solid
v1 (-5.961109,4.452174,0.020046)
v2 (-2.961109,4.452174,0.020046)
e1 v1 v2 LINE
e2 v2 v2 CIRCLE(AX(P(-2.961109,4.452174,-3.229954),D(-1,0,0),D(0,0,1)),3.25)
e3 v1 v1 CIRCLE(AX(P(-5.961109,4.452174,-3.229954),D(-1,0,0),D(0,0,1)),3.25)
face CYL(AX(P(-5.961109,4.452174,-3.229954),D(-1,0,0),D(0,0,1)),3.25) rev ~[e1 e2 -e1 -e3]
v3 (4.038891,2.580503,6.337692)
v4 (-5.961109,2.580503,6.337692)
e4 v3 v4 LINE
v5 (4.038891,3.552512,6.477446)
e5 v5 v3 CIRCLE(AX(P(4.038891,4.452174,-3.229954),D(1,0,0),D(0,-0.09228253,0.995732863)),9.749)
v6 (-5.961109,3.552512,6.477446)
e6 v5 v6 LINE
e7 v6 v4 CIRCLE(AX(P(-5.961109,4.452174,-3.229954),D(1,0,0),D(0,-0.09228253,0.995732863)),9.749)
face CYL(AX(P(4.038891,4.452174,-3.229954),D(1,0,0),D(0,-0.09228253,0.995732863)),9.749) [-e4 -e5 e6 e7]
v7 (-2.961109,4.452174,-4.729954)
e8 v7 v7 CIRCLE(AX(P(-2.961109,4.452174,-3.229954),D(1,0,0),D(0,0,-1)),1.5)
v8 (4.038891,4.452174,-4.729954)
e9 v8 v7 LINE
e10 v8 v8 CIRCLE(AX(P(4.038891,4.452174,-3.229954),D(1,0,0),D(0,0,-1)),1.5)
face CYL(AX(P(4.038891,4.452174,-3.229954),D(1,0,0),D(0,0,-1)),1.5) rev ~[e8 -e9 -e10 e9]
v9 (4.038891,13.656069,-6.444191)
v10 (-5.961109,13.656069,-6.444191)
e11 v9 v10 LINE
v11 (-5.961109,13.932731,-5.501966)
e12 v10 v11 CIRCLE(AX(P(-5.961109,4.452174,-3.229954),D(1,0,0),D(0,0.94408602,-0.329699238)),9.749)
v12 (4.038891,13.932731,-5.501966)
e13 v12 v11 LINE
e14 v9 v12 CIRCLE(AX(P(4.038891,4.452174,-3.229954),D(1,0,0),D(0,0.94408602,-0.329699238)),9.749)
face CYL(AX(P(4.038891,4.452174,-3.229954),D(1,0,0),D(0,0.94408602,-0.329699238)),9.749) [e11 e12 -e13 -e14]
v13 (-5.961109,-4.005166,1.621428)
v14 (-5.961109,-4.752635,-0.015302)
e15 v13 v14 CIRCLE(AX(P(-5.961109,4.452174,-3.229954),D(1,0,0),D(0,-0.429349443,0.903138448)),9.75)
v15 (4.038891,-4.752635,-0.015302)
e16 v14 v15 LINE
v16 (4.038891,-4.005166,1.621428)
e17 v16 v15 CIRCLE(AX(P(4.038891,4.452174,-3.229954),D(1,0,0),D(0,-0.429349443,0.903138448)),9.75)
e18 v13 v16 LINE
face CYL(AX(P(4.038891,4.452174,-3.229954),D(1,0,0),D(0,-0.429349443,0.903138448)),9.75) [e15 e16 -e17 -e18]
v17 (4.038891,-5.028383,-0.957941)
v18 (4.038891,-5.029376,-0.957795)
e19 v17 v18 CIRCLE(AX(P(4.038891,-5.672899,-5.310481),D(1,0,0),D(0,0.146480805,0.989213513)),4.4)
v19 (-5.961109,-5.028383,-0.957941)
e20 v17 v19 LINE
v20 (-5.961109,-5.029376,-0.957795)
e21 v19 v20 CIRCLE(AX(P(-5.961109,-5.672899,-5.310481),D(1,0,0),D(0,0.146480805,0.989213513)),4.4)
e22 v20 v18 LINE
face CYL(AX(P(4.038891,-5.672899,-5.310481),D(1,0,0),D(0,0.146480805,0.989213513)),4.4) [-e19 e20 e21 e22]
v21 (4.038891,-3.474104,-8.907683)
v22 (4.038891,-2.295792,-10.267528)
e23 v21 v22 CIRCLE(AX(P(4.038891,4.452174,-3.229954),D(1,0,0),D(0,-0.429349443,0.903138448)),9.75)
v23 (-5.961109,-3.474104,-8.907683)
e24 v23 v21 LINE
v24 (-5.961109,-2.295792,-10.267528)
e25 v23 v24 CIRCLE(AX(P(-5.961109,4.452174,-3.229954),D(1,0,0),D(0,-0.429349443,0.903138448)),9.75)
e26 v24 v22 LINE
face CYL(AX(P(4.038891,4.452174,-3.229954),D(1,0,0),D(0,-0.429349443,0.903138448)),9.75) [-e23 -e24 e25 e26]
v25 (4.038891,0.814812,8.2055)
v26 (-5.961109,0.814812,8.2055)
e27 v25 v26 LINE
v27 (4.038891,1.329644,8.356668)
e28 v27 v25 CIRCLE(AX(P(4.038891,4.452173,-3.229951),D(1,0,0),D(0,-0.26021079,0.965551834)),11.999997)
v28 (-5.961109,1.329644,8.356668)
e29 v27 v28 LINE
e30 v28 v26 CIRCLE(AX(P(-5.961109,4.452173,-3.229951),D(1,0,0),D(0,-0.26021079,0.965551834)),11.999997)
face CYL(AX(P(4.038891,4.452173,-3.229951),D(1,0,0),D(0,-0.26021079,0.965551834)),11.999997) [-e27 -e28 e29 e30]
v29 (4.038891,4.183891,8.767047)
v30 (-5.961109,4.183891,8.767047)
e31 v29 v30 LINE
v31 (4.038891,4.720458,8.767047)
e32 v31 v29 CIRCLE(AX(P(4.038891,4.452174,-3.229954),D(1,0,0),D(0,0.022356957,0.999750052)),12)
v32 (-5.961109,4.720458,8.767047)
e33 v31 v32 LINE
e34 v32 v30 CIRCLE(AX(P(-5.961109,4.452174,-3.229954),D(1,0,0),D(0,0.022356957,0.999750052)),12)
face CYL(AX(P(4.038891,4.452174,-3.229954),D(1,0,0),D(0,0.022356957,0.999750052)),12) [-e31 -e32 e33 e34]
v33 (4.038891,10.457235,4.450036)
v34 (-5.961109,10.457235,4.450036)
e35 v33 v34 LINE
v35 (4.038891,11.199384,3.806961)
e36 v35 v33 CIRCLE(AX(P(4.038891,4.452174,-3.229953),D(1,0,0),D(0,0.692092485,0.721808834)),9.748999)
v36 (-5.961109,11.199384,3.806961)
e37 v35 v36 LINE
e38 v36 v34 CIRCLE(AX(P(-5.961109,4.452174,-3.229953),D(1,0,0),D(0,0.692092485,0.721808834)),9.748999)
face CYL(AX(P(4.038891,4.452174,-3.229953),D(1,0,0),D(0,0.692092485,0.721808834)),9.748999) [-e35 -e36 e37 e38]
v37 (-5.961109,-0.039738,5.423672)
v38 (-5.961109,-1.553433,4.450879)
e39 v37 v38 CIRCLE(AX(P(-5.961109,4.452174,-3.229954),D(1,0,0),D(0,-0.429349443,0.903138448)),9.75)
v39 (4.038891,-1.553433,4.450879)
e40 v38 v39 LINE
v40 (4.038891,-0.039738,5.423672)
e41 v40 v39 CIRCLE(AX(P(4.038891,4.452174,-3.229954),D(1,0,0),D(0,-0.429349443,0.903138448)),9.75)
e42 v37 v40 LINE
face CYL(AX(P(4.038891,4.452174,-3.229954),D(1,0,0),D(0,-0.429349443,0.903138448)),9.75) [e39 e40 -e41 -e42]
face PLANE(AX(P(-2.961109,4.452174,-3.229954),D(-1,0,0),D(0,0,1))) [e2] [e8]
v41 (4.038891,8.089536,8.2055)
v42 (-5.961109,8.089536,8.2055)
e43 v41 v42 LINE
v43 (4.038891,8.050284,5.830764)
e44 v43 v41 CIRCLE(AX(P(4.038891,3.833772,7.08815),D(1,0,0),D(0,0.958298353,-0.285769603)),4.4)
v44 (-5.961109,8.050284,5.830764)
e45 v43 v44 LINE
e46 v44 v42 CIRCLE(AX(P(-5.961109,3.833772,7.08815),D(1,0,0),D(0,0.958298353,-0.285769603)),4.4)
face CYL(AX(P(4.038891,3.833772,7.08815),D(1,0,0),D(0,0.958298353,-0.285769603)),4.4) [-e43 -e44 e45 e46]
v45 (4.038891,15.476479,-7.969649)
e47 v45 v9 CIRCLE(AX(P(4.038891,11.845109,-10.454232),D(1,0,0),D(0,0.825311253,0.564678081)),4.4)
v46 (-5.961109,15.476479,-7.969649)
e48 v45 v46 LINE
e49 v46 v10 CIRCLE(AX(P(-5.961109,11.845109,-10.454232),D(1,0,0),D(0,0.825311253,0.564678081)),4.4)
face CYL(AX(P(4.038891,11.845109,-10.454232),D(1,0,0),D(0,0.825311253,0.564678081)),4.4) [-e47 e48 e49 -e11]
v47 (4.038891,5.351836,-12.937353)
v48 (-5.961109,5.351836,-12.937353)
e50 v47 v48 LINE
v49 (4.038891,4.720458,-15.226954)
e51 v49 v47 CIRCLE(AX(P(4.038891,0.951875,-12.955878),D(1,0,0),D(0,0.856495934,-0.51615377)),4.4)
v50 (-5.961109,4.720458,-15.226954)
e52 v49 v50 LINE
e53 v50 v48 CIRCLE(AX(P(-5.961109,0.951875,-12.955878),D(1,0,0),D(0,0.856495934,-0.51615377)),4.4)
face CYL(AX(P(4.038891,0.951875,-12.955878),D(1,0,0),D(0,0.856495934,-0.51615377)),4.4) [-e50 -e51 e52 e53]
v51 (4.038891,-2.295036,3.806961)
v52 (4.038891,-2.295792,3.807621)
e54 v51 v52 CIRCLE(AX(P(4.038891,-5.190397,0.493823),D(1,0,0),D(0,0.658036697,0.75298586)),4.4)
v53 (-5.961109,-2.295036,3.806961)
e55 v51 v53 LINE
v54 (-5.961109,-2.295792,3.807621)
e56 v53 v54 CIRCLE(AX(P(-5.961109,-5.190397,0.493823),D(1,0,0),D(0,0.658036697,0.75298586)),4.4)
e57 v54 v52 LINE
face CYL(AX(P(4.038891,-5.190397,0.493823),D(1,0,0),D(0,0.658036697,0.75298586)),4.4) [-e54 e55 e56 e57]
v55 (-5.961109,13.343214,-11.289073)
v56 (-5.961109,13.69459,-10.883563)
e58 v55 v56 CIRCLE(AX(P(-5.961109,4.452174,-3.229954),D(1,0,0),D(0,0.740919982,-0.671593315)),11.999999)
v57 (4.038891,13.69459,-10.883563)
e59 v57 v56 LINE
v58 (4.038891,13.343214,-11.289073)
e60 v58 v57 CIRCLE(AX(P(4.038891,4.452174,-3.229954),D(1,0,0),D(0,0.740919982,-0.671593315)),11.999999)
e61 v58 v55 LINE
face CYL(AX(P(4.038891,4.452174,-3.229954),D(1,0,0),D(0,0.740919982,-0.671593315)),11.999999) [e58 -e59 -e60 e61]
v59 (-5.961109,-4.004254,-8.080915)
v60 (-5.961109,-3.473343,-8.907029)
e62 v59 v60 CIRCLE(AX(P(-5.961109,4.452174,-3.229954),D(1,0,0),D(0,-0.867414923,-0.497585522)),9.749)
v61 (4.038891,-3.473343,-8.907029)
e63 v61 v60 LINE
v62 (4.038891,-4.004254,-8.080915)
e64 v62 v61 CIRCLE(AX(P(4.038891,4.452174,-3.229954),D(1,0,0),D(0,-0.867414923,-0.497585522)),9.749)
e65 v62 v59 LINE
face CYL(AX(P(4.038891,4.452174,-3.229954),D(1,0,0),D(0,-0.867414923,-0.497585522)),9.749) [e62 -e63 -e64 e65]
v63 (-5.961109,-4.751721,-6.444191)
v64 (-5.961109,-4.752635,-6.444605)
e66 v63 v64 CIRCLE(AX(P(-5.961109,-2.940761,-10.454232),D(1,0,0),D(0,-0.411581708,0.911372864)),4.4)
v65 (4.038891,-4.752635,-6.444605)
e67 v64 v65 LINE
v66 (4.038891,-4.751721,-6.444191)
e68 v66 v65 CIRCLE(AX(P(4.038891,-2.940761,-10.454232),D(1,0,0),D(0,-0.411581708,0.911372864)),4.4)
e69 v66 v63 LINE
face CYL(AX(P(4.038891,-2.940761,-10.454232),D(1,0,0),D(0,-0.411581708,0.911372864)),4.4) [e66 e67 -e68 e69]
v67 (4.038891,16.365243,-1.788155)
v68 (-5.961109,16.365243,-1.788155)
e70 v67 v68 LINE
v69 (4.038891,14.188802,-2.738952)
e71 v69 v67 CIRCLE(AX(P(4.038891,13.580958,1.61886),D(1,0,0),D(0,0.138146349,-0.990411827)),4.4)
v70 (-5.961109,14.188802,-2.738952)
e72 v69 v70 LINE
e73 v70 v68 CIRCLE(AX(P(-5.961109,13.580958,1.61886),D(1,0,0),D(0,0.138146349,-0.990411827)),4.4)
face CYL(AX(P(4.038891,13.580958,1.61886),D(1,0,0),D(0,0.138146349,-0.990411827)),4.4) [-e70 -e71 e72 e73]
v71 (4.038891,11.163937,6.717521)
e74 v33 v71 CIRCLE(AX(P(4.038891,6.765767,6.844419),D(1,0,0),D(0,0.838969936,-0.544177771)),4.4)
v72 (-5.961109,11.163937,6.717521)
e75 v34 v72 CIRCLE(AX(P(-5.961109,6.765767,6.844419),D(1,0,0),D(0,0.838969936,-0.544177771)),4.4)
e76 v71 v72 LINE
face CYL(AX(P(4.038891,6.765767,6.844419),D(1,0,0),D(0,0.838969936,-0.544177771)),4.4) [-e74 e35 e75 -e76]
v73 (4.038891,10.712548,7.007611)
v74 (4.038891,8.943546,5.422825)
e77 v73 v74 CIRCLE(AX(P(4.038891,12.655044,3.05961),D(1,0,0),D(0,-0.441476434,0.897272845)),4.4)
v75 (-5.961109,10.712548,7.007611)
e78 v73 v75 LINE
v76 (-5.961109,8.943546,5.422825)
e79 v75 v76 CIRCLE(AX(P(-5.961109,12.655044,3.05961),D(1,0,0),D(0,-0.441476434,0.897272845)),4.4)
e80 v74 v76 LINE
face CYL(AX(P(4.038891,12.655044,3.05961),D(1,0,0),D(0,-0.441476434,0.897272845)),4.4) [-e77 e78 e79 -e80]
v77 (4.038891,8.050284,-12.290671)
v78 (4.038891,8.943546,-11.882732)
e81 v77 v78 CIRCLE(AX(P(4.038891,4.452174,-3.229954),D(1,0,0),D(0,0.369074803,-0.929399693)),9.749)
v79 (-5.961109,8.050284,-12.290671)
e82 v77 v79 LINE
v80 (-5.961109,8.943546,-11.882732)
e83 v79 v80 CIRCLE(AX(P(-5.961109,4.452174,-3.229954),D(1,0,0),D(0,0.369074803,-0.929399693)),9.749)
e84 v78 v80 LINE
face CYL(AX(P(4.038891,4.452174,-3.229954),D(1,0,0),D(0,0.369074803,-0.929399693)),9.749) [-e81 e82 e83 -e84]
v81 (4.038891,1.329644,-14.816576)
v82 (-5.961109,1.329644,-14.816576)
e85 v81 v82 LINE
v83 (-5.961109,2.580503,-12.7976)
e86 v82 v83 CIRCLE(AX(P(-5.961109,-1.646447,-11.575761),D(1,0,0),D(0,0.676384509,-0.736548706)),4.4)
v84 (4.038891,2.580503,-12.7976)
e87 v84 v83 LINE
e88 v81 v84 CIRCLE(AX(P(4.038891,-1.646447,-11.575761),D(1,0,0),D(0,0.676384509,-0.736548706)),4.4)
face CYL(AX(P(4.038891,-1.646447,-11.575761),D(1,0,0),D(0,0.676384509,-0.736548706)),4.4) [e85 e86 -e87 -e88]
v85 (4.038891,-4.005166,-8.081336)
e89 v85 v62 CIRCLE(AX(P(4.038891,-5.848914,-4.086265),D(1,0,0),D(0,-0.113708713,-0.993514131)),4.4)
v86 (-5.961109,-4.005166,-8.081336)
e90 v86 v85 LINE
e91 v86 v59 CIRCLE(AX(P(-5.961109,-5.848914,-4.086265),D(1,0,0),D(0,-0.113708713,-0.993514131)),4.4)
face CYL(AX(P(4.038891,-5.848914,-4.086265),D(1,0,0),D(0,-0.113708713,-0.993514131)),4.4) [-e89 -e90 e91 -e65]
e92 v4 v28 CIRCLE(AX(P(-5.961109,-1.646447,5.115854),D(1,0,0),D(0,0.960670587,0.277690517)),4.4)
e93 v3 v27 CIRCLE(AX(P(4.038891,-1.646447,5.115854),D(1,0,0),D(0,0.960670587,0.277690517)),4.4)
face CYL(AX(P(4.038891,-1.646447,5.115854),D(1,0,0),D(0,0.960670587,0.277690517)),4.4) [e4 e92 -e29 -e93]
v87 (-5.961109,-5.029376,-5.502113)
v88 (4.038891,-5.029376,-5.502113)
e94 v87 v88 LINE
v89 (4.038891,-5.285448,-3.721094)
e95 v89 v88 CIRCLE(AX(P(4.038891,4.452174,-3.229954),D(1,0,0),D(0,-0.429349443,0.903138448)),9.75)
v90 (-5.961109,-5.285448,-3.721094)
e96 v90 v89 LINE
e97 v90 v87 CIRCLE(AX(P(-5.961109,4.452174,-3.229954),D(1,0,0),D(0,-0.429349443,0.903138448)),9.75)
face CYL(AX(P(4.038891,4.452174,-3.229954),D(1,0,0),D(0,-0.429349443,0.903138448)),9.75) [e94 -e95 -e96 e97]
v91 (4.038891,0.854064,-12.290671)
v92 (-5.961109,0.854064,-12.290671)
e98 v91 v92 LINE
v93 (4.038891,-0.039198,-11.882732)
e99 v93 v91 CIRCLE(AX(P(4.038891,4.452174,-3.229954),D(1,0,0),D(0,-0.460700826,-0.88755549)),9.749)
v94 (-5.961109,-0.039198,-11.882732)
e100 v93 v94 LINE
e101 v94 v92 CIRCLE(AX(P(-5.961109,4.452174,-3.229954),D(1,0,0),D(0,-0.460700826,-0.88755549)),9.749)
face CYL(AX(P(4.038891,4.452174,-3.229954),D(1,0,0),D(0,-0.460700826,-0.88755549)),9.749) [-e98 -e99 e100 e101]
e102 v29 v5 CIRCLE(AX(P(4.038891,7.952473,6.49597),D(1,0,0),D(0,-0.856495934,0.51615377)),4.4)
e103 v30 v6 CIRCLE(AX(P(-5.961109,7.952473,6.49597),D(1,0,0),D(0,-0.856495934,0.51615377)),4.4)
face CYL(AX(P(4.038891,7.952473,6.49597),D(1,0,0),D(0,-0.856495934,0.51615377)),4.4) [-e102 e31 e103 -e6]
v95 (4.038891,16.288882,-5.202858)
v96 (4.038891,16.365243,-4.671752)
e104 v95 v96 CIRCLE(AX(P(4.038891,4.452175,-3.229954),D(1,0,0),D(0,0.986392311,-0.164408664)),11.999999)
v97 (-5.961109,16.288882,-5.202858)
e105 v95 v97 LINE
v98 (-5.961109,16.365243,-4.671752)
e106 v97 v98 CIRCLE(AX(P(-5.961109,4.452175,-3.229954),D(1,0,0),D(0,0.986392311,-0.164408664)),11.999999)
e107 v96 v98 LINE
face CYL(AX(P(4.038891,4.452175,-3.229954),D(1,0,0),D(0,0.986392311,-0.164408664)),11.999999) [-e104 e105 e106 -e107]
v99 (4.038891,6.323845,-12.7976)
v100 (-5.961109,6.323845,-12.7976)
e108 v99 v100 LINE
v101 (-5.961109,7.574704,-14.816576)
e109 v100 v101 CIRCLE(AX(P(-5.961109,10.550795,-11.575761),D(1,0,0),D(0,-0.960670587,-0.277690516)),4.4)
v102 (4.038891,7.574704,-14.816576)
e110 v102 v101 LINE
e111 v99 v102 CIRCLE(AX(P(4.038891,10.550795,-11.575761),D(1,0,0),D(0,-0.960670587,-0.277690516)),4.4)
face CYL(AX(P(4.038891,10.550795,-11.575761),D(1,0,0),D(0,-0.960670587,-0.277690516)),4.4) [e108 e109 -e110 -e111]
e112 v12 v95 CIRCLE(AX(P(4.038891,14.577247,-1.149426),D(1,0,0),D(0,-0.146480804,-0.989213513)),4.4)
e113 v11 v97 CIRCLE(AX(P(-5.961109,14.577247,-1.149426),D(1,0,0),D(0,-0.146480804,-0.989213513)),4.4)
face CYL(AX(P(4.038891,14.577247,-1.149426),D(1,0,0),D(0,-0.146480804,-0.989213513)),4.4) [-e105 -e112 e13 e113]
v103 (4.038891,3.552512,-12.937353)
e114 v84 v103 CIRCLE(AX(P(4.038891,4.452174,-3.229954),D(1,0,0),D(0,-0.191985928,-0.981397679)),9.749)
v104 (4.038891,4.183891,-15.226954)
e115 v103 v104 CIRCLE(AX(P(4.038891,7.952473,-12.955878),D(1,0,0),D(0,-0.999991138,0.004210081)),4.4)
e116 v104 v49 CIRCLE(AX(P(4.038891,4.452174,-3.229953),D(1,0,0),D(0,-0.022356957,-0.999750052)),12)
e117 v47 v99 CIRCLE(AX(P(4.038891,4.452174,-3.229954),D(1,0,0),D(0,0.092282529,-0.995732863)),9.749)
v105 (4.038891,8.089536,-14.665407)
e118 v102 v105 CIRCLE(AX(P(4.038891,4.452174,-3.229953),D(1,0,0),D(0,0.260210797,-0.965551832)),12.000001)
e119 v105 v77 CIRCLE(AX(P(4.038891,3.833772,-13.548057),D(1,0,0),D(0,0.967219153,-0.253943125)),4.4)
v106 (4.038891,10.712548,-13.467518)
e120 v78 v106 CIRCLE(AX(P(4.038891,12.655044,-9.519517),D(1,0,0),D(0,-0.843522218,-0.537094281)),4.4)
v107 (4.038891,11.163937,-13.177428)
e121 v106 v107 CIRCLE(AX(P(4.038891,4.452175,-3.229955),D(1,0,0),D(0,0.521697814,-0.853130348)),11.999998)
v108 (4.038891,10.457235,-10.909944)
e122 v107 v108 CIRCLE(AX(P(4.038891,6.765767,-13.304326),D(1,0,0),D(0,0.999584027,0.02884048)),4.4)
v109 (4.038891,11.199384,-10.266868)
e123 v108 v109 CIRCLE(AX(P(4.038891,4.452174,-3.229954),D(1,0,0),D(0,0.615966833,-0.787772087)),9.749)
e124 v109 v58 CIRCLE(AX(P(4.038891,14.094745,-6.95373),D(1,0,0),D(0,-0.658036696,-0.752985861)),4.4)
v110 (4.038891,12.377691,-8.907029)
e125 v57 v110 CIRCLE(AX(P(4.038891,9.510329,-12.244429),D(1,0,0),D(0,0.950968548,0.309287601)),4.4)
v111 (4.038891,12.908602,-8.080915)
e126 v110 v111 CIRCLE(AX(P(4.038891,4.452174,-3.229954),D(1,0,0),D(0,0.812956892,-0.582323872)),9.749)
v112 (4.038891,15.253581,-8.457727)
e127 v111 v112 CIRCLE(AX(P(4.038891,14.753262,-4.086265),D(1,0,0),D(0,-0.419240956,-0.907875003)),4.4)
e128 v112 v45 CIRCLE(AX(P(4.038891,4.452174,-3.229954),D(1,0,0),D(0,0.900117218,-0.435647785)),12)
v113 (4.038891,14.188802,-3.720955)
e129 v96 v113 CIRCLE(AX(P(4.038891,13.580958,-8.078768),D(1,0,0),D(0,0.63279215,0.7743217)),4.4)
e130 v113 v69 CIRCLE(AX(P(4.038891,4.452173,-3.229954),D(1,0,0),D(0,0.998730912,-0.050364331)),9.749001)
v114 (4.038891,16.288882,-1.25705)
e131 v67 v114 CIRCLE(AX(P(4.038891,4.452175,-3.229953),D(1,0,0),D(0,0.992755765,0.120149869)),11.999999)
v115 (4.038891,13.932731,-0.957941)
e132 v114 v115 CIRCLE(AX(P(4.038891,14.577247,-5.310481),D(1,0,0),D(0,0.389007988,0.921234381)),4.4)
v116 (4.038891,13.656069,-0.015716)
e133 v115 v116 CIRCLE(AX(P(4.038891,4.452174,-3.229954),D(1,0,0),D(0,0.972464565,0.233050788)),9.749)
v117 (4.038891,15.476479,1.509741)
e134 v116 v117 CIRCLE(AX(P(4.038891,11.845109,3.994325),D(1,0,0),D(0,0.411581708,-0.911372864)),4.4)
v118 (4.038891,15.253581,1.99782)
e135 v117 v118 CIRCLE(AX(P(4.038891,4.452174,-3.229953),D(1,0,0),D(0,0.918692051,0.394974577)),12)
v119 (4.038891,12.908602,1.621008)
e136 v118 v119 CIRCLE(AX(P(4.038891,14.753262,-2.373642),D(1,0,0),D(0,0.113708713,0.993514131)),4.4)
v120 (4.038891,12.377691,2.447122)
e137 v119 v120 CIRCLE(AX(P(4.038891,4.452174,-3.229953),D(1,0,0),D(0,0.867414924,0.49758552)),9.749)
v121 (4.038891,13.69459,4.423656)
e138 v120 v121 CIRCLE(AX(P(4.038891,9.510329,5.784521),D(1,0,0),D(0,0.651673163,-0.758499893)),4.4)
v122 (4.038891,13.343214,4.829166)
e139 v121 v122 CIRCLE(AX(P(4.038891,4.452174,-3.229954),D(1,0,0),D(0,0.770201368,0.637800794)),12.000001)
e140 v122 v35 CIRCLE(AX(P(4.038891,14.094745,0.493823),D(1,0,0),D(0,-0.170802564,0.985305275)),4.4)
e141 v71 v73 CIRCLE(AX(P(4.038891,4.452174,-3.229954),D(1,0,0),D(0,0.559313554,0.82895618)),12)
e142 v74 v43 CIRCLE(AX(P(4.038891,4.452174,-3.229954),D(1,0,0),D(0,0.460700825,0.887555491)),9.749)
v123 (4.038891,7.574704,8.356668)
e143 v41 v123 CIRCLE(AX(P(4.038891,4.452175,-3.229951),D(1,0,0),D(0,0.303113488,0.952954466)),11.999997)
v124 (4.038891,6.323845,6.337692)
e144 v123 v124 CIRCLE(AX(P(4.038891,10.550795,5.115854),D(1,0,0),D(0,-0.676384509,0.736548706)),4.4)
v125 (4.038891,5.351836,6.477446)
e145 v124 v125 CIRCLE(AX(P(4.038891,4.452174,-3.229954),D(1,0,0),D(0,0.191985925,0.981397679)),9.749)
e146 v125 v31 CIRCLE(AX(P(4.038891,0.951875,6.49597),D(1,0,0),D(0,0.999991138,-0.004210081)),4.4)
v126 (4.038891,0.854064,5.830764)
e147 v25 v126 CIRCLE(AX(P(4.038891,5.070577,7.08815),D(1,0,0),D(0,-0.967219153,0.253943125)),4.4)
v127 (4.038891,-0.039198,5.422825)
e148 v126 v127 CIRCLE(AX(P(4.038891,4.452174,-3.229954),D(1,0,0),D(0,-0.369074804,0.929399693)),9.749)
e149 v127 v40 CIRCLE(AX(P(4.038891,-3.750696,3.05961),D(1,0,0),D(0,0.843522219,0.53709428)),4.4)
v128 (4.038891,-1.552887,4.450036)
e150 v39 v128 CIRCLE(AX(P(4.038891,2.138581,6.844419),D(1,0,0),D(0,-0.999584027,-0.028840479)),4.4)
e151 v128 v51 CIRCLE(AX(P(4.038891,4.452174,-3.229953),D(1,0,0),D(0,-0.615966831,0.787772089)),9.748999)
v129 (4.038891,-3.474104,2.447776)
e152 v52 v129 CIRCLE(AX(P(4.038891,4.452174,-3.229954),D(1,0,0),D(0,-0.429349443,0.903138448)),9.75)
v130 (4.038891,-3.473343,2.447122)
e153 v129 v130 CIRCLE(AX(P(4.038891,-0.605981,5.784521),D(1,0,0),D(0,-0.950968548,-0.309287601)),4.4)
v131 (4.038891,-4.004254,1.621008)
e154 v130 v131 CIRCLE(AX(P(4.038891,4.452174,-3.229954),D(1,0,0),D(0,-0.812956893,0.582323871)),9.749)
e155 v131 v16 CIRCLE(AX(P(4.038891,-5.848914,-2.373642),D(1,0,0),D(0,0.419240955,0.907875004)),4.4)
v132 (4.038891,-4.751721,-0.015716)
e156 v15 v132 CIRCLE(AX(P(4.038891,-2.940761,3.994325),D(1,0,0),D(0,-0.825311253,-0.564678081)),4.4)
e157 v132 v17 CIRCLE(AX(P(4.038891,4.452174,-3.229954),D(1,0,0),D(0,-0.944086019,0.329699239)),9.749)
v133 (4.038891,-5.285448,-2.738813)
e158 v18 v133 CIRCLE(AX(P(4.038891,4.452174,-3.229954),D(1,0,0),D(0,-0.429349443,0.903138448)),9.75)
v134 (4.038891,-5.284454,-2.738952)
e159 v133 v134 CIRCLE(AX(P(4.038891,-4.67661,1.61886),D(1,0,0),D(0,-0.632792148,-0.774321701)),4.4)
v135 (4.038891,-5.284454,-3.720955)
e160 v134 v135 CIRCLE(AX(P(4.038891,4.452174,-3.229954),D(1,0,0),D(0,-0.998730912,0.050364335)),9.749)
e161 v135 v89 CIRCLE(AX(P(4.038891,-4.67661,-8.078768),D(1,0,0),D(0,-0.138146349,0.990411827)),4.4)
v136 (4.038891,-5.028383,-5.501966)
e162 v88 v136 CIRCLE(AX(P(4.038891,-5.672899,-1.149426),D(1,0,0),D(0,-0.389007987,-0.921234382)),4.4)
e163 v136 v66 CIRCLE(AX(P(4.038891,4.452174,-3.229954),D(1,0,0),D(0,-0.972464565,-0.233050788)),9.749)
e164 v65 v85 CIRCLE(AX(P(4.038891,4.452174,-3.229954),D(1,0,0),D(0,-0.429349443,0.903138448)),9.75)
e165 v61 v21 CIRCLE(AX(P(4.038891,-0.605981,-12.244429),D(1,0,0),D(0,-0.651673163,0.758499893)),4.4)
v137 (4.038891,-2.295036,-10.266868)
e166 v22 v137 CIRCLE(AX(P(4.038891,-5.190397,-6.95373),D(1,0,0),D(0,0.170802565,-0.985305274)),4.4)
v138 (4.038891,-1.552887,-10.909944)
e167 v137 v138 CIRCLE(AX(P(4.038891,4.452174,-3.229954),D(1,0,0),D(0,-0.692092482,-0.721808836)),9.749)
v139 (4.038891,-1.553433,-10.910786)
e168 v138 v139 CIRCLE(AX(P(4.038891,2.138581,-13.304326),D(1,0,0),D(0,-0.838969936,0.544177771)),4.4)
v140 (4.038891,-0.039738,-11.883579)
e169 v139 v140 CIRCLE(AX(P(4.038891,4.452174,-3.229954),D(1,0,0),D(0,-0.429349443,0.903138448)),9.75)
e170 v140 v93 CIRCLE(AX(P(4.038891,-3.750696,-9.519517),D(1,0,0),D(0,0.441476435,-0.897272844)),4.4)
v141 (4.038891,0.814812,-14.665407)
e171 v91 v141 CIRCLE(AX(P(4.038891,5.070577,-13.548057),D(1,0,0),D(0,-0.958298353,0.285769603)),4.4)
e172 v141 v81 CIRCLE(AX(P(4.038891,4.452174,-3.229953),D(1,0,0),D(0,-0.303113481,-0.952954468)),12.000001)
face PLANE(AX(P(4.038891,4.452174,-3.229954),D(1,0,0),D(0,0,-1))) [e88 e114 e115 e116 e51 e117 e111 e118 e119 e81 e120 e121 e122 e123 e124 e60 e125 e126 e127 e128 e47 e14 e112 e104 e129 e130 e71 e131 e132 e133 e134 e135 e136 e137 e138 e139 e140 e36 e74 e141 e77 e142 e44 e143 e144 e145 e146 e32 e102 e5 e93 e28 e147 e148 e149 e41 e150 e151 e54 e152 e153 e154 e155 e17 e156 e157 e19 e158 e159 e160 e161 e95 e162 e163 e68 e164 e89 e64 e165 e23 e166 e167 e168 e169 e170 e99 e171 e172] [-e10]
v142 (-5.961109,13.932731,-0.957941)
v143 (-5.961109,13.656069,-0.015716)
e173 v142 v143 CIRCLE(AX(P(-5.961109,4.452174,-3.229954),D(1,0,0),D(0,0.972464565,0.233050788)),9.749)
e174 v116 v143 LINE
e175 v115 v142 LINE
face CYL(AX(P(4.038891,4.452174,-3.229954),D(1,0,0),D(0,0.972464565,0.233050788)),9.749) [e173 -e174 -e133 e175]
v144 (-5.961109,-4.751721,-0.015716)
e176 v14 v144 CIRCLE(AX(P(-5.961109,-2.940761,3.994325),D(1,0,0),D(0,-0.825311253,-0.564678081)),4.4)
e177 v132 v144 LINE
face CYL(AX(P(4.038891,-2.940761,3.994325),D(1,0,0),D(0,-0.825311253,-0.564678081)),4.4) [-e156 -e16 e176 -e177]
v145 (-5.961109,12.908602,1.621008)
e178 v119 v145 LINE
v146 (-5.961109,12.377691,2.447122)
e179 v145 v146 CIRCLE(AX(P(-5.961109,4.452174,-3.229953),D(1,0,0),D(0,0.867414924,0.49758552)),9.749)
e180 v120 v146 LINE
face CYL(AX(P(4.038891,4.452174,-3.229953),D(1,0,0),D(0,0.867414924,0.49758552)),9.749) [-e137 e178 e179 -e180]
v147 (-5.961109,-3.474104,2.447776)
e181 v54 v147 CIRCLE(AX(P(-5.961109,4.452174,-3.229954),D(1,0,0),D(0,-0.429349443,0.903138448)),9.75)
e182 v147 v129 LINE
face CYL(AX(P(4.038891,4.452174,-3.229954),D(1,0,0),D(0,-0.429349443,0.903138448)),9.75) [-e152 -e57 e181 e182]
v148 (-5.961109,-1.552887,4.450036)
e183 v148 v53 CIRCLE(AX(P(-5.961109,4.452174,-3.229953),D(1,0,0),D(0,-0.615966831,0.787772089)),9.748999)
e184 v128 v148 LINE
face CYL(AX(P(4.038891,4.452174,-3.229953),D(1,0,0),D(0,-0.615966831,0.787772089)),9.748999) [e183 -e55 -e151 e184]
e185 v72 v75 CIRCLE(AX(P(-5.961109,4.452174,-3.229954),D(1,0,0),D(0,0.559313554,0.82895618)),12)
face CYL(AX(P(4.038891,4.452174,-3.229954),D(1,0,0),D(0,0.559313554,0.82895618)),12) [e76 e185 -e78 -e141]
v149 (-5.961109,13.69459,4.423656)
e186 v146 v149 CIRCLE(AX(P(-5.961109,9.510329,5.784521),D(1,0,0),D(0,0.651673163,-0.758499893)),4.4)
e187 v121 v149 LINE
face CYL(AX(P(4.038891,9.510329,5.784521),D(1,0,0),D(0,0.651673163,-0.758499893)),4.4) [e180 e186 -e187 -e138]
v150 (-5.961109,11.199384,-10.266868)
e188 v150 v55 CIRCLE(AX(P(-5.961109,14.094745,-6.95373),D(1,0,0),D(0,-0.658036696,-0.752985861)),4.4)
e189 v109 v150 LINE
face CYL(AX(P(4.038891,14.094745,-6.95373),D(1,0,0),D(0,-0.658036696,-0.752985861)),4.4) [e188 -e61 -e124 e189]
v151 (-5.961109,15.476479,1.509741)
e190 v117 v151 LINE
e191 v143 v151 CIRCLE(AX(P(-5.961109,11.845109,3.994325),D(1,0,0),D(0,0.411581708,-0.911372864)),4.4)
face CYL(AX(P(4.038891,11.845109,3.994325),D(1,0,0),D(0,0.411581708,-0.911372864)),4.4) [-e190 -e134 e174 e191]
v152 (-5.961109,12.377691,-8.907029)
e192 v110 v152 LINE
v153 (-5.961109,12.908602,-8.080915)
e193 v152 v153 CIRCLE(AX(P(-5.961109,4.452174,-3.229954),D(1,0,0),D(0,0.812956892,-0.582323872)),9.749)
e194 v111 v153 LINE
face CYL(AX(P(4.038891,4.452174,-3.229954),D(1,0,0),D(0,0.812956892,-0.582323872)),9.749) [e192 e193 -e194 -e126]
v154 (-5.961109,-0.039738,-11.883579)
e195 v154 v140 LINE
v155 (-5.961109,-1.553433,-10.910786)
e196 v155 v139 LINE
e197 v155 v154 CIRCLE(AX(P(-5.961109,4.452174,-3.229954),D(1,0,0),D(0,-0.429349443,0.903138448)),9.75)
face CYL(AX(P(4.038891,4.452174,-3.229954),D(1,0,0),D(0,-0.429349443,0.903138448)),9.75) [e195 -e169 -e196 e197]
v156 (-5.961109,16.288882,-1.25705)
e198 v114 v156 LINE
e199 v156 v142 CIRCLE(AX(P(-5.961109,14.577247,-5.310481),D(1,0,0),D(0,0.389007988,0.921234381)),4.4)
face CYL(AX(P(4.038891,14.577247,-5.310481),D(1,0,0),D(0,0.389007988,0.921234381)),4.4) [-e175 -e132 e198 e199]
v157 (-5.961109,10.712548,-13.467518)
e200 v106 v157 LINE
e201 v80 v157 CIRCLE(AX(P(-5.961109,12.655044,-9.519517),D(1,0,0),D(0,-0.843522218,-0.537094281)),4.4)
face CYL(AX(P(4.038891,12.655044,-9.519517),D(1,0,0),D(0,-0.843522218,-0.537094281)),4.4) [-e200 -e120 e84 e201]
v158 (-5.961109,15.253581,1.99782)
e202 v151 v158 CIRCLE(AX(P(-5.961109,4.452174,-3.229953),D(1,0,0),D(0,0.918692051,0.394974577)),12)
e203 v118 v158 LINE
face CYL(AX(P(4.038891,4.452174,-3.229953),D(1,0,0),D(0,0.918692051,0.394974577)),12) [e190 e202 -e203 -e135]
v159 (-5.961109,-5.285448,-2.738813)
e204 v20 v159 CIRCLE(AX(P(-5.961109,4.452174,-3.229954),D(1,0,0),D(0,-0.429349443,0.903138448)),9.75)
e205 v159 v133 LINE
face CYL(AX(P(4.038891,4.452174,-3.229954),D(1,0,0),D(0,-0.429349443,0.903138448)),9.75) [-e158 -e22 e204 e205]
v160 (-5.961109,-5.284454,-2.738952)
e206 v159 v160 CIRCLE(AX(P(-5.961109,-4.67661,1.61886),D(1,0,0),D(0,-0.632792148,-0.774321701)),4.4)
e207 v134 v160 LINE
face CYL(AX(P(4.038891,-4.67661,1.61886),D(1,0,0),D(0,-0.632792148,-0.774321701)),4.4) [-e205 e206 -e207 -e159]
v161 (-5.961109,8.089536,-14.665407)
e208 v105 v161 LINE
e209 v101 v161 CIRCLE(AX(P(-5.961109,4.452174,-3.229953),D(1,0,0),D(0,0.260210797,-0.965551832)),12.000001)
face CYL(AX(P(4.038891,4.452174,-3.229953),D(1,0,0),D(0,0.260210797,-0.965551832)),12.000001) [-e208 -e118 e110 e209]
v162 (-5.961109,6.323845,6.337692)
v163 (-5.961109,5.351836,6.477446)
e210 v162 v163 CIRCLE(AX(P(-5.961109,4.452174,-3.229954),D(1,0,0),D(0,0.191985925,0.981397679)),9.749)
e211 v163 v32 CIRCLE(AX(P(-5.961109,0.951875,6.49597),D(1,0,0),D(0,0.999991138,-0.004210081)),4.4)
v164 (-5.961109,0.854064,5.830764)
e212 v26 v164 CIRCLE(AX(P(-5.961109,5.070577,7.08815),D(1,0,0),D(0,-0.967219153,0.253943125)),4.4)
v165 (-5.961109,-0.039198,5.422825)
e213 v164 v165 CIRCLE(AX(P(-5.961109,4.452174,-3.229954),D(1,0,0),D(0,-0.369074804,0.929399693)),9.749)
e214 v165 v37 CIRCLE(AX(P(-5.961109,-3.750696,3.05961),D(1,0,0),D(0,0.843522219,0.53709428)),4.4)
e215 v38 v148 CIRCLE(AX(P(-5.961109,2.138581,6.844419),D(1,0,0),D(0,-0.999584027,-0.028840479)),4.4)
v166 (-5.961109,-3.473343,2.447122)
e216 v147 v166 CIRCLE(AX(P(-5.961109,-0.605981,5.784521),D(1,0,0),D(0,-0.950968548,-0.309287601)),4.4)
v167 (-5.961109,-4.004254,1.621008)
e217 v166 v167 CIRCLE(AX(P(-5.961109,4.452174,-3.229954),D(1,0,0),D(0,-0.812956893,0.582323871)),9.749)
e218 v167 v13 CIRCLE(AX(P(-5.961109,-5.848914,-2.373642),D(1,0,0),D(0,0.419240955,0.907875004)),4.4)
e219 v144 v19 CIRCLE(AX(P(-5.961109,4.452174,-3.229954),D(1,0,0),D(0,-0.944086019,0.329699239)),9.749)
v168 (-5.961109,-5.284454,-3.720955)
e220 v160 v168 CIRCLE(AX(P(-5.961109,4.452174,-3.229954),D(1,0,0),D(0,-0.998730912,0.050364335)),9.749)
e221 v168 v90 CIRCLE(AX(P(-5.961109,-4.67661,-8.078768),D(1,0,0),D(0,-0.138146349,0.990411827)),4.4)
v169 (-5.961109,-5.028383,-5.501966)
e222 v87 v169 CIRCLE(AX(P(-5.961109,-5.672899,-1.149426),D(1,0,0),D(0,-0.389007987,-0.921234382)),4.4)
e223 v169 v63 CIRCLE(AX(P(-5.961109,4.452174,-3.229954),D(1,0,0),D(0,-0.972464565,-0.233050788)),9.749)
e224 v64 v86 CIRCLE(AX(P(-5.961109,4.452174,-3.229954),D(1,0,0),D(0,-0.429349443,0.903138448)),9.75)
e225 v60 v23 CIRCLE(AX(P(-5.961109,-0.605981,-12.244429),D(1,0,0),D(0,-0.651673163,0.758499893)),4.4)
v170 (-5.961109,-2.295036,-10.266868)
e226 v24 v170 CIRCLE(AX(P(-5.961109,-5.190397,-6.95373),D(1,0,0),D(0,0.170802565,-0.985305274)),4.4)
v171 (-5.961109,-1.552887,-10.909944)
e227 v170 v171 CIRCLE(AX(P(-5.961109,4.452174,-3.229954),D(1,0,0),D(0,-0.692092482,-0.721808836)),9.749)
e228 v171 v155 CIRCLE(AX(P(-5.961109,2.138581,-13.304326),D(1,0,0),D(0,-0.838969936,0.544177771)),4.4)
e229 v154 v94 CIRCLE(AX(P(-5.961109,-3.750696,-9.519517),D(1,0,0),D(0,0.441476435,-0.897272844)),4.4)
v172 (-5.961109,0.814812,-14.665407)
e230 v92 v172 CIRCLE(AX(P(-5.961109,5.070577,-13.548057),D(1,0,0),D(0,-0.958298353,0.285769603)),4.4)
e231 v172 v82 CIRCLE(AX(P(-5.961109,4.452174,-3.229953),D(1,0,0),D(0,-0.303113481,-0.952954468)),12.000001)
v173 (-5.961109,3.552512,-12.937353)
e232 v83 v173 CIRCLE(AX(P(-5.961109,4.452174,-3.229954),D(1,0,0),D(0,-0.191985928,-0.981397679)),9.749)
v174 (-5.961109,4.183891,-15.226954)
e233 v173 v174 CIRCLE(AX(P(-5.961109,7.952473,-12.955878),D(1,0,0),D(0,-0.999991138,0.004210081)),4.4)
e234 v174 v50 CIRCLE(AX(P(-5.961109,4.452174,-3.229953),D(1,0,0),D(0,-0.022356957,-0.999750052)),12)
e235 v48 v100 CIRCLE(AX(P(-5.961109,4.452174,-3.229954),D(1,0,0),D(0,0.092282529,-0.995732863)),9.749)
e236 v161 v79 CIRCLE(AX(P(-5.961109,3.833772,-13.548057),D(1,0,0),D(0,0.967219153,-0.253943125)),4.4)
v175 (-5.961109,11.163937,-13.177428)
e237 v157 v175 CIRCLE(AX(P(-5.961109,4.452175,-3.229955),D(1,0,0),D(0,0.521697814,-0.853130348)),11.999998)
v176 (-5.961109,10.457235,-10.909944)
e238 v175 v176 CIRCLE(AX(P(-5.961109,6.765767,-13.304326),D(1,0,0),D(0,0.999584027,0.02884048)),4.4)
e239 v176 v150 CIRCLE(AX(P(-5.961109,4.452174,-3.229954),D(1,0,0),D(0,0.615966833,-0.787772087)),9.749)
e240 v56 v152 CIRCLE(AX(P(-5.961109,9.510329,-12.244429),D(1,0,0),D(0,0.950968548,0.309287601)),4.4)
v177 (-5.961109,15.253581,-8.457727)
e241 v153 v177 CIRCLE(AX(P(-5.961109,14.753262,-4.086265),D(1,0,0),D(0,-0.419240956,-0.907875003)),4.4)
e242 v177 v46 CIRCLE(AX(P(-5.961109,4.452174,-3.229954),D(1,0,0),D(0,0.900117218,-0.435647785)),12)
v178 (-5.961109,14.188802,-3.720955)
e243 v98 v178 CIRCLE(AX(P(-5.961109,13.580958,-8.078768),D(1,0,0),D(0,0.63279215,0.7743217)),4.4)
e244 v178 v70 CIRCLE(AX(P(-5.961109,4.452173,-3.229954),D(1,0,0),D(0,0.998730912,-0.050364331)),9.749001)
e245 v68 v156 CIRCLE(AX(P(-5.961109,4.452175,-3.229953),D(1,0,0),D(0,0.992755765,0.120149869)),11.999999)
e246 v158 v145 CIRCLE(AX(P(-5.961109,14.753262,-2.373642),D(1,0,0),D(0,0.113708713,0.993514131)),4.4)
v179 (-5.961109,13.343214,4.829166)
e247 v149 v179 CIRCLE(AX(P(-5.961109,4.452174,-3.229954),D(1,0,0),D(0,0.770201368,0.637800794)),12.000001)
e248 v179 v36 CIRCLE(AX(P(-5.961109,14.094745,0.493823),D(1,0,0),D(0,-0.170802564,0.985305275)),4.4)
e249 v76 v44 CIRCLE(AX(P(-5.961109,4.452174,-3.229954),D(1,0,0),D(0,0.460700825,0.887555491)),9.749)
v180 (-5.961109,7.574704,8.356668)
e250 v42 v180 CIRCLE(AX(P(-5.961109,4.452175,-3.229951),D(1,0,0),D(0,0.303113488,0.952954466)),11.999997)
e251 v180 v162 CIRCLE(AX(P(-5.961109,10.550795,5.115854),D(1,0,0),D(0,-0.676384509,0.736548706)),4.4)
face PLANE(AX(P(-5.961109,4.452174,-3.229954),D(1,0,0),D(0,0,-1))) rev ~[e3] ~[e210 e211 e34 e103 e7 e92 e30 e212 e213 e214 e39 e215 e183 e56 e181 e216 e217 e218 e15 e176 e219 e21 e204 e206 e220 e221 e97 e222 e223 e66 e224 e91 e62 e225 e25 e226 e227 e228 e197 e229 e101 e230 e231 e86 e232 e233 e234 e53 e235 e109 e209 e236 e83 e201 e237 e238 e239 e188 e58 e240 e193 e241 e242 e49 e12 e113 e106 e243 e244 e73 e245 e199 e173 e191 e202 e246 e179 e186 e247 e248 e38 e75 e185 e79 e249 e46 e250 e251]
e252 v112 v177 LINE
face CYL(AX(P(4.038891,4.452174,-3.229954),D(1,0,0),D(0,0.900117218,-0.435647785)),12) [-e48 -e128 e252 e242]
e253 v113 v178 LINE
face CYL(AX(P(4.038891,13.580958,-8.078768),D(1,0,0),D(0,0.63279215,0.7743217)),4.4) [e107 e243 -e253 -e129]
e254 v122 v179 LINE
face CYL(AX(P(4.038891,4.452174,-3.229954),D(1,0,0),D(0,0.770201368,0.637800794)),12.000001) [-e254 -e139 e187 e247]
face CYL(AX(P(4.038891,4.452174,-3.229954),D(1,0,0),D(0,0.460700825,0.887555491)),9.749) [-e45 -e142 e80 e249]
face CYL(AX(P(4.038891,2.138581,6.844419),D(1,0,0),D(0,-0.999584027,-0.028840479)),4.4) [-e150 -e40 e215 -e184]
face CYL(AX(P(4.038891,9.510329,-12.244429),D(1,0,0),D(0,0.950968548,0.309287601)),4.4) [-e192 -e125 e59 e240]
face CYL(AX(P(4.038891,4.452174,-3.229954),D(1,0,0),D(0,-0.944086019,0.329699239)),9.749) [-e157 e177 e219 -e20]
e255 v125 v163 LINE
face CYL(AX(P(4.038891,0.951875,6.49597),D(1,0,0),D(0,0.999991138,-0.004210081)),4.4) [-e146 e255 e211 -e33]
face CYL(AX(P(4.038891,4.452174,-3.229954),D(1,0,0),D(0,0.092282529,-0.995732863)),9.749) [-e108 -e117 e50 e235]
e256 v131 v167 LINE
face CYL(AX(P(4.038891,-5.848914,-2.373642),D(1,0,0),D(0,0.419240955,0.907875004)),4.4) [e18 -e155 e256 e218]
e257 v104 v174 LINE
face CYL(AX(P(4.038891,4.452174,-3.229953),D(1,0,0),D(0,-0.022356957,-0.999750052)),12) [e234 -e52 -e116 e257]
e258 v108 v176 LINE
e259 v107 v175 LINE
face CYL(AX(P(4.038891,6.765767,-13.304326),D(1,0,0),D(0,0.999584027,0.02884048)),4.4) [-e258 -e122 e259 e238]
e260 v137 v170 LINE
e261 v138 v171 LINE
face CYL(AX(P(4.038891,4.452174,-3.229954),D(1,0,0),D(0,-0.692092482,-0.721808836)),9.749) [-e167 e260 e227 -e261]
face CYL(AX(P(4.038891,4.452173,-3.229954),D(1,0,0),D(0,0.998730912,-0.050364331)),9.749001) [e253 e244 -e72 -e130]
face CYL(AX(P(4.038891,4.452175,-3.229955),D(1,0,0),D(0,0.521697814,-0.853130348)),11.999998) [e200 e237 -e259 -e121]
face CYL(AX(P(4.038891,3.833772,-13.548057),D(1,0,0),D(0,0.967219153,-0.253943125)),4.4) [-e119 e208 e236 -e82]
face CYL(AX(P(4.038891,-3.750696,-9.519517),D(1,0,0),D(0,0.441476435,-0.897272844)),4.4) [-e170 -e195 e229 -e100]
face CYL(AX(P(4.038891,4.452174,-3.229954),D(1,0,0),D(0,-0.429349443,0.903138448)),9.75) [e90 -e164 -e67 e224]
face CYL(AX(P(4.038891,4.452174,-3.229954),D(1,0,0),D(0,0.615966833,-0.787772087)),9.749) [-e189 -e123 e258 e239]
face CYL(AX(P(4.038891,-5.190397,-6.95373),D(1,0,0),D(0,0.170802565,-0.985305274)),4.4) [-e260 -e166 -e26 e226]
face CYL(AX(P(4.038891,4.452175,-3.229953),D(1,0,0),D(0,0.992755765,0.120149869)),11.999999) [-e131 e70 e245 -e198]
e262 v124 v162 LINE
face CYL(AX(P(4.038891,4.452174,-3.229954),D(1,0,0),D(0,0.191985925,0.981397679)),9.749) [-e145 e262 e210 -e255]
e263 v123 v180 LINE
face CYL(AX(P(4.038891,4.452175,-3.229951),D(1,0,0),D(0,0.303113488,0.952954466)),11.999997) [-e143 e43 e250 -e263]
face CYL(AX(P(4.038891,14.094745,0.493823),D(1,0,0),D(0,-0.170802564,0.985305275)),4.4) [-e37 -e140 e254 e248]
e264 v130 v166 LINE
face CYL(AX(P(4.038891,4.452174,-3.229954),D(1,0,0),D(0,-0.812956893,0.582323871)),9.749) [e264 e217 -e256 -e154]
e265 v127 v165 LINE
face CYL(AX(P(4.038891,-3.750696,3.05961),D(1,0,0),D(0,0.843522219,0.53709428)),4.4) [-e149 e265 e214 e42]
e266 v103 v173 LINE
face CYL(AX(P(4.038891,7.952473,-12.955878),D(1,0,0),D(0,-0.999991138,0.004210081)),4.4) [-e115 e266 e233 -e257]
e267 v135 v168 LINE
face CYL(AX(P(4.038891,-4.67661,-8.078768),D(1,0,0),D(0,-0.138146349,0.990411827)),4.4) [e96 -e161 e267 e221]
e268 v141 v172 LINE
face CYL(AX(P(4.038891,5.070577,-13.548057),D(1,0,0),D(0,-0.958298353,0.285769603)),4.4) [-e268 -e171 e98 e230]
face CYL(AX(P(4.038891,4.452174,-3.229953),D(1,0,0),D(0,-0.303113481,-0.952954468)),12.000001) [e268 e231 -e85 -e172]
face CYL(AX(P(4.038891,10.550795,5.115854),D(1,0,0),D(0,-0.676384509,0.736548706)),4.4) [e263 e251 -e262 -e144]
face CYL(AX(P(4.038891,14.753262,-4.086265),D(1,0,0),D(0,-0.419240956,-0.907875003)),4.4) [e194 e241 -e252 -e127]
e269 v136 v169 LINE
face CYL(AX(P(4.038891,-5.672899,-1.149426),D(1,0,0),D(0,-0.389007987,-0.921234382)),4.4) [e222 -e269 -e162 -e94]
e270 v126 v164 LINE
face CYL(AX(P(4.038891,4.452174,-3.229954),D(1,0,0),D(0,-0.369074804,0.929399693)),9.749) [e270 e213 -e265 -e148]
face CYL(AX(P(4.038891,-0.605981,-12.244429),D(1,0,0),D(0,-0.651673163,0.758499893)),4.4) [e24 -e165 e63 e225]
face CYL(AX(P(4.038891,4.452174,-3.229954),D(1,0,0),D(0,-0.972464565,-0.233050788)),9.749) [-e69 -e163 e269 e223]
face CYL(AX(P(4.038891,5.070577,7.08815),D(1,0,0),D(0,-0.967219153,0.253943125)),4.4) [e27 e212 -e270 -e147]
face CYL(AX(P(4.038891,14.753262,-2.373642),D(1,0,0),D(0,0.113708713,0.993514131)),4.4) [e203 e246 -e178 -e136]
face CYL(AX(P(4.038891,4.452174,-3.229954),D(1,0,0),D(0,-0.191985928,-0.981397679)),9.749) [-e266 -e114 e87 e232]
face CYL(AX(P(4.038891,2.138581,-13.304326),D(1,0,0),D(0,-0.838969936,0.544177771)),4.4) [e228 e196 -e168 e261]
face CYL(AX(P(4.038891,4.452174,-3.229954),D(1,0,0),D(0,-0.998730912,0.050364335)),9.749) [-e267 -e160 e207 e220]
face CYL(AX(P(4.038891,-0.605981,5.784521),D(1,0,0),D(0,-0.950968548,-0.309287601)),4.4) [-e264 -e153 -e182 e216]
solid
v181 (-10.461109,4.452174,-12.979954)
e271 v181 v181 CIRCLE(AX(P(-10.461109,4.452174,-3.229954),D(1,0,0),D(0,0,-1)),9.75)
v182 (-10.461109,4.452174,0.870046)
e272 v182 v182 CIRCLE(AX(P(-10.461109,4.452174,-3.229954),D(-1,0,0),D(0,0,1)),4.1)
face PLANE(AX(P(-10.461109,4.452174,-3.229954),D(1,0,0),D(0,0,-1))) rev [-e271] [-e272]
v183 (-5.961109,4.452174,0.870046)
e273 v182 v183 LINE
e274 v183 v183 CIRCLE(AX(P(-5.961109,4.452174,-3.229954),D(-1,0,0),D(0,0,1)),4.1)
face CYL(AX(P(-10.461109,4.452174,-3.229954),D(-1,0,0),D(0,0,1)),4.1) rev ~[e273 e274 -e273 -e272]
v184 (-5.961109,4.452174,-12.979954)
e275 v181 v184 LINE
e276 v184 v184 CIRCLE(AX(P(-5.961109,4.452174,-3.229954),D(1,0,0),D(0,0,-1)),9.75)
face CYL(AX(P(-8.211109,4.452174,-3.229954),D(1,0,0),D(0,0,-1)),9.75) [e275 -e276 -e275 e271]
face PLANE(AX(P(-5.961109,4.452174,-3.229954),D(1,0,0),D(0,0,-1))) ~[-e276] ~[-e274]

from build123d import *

# Parameters (mm, degrees)
SKETCH5_R           = 1.5
BOSS_EXTRUDE1_DEPTH = 10
SKETCH10_W          = 4.5
SKETCH10_H          = 6.3
CUT_EXTRUDE1_DEPTH  = 10
SKETCH13_R          = 4.1
CUT_EXTRUDE2_DEPTH  = 4.5
SKETCH14_R          = 3.25
CUT_EXTRUDE3_DEPTH  = 3


with BuildPart() as part:
    # Sketch5 → Boss-Extrude1 (new body)
    with BuildSketch(Plane(origin=(4.038890567, 0, 0), x_dir=(0, 0, -1), z_dir=(1, 0, 0))):
        with BuildLine():
            ThreePointArc((-8.767047038, 4.183890551), (-7.665653193, 3.710793481), (-6.477446097, 3.552511658))
            ThreePointArc((-6.477446097, 3.552511658), (-6.419815651, 3.06474668), (-6.337692385, 2.580503238))
            ThreePointArc((-6.337692385, 2.580503238), (-7.433175602, 2.093876318), (-8.35666841, 1.329644499))
            ThreePointArc((-8.35666841, 1.329644499), (-8.283962098, 1.071383356), (-8.205500024, 0.814812257))
            ThreePointArc((-8.205500024, 0.814812257), (-7.015433522, 0.671177447), (-5.830764019, 0.854063773))
            ThreePointArc((-5.830764019, 0.854063773), (-5.638048737, 0.402293077), (-5.422824897, -0.039198306))
            ThreePointArc((-5.422824897, -0.039198306), (-6.3368347, -0.814746704), (-7.007610576, -1.808199754))
            ThreePointArc((-7.007610576, -1.808199754), (-6.865088808, -2.035515771), (-6.717520569, -2.259588617))
            ThreePointArc((-6.717520569, -2.259588617), (-5.535193519, -2.06212473), (-4.450036487, -1.552886617))
            ThreePointArc((-4.450036487, -1.552886617), (-4.137849015, -1.932063257), (-3.806960756, -2.295035573))
            ThreePointArc((-3.806960756, -2.295035573), (-4.465449507, -3.296675131), (-4.829166179, -4.438865755))
            ThreePointArc((-4.829166179, -4.438865755), (-4.628375221, -4.616820854), (-4.423655917, -4.790242398))
            ThreePointArc((-4.423655917, -4.790242398), (-3.344853426, -4.267677163), (-2.447121834, -3.473342707))
            ThreePointArc((-2.447121834, -3.473342707), (-2.040753744, -3.749206653), (-1.621007666, -4.004254045))
            ThreePointArc((-1.621007666, -4.004254045), (-1.970628521, -5.150837883), (-1.997819828, -6.349232589))
            ThreePointArc((-1.997819828, -6.349232589), (-1.75502657, -6.463409906), (-1.50974134, -6.572130566))
            ThreePointArc((-1.50974134, -6.572130566), (-0.62186157, -5.76679911), (0.015715707, -4.751720564))
            ThreePointArc((0.015715707, -4.751720564), (0.483342889, -4.901922961), (0.957941455, -5.028383006))
            ThreePointArc((0.957941455, -5.028383006), (0.945512697, -6.22702172), (1.257049634, -7.384533696))
            ThreePointArc((1.257049634, -7.384533696), (1.522175527, -7.425683264), (1.788155131, -7.460895139))
            ThreePointArc((1.788155131, -7.460895139), (2.413181441, -6.438040628), (2.738951684, -5.284453619))
            ThreePointArc((2.738951684, -5.284453619), (3.229953586, -5.296825962), (3.720955487, -5.284453619))
            ThreePointArc((3.720955487, -5.284453619), (4.04672573, -6.438040628), (4.671752041, -7.460895139))
            ThreePointArc((4.671752041, -7.460895139), (4.937731645, -7.425683264), (5.202857538, -7.384533696))
            ThreePointArc((5.202857538, -7.384533696), (5.514394474, -6.22702172), (5.501965716, -5.028383006))
            ThreePointArc((5.501965716, -5.028383006), (5.976564282, -4.901922961), (6.444191465, -4.751720564))
            ThreePointArc((6.444191465, -4.751720564), (7.081768742, -5.76679911), (7.969648512, -6.572130566))
            ThreePointArc((7.969648512, -6.572130566), (8.214933742, -6.463409906), (8.457727, -6.349232589))
            ThreePointArc((8.457727, -6.349232589), (8.430535693, -5.150837883), (8.080914837, -4.004254045))
            ThreePointArc((8.080914837, -4.004254045), (8.500660915, -3.749206653), (8.907029006, -3.473342707))
            ThreePointArc((8.907029006, -3.473342707), (9.804760597, -4.267677163), (10.883563088, -4.790242398))
            ThreePointArc((10.883563088, -4.790242398), (11.088282393, -4.616820854), (11.289073351, -4.438865755))
            ThreePointArc((11.289073351, -4.438865755), (10.925356678, -3.296675131), (10.266867928, -2.295035573))
            ThreePointArc((10.266867928, -2.295035573), (10.597756186, -1.932063257), (10.909943659, -1.552886617))
            ThreePointArc((10.909943659, -1.552886617), (11.995100691, -2.06212473), (13.17742774, -2.259588617))
            ThreePointArc((13.17742774, -2.259588617), (13.32499598, -2.035515771), (13.467517748, -1.808199754))
            ThreePointArc((13.467517748, -1.808199754), (12.796741871, -0.814746704), (11.882732068, -0.039198306))
            ThreePointArc((11.882732068, -0.039198306), (12.097955909, 0.402293077), (12.290671191, 0.854063773))
            ThreePointArc((12.290671191, 0.854063773), (13.475340694, 0.671177447), (14.665407196, 0.814812257))
            ThreePointArc((14.665407196, 0.814812257), (14.743869269, 1.071383356), (14.816575582, 1.329644499))
            ThreePointArc((14.816575582, 1.329644499), (13.893082774, 2.093876318), (12.797599556, 2.580503238))
            ThreePointArc((12.797599556, 2.580503238), (12.879722823, 3.06474668), (12.937353269, 3.552511658))
            ThreePointArc((12.937353269, 3.552511658), (14.125560365, 3.710793481), (15.22695421, 4.183890551))
            ThreePointArc((15.22695421, 4.183890551), (15.229953586, 4.452174038), (15.22695421, 4.720457526))
            ThreePointArc((15.22695421, 4.720457526), (14.125560365, 5.193554596), (12.937353269, 5.351836419))
            ThreePointArc((12.937353269, 5.351836419), (12.879722823, 5.839601397), (12.797599556, 6.323844839))
            ThreePointArc((12.797599556, 6.323844839), (13.893082774, 6.810471759), (14.816575582, 7.574703578))
            ThreePointArc((14.816575582, 7.574703578), (14.743869269, 7.832964721), (14.665407196, 8.08953582))
            ThreePointArc((14.665407196, 8.08953582), (13.475340694, 8.23317063), (12.290671191, 8.050284304))
            ThreePointArc((12.290671191, 8.050284304), (12.097955909, 8.502055), (11.882732068, 8.943546382))
            ThreePointArc((11.882732068, 8.943546382), (12.796741871, 9.719094781), (13.467517748, 10.712547831))
            ThreePointArc((13.467517748, 10.712547831), (13.32499598, 10.939863848), (13.17742774, 11.163936694))
            ThreePointArc((13.17742774, 11.163936694), (11.995100691, 10.966472807), (10.909943659, 10.457234694))
            ThreePointArc((10.909943659, 10.457234694), (10.597756186, 10.836411334), (10.266867928, 11.19938365))
            ThreePointArc((10.266867928, 11.19938365), (10.925356678, 12.201023208), (11.289073351, 13.343213832))
            ThreePointArc((11.289073351, 13.343213832), (11.088282393, 13.521168931), (10.883563088, 13.694590475))
            ThreePointArc((10.883563088, 13.694590475), (9.804760597, 13.17202524), (8.907029006, 12.377690783))
            ThreePointArc((8.907029006, 12.377690783), (8.500660915, 12.65355473), (8.080914837, 12.908602122))
            ThreePointArc((8.080914837, 12.908602122), (8.430535693, 14.05518596), (8.457727, 15.253580666))
            ThreePointArc((8.457727, 15.253580666), (8.214933742, 15.367757983), (7.969648512, 15.476478643))
            ThreePointArc((7.969648512, 15.476478643), (7.081768742, 14.671147187), (6.444191465, 13.656068641))
            ThreePointArc((6.444191465, 13.656068641), (5.976564282, 13.806271038), (5.501965716, 13.932731083))
            ThreePointArc((5.501965716, 13.932731083), (5.514394474, 15.131369796), (5.202857538, 16.288881773))
            ThreePointArc((5.202857538, 16.288881773), (4.937731645, 16.330031341), (4.671752041, 16.365243215))
            ThreePointArc((4.671752041, 16.365243215), (4.04672573, 15.342388705), (3.720955487, 14.188801696))
            ThreePointArc((3.720955487, 14.188801696), (3.229953586, 14.201174038), (2.738951684, 14.188801696))
            ThreePointArc((2.738951684, 14.188801696), (2.413181441, 15.342388705), (1.788155131, 16.365243215))
            ThreePointArc((1.788155131, 16.365243215), (1.522175527, 16.330031341), (1.257049634, 16.288881773))
            ThreePointArc((1.257049634, 16.288881773), (0.945512697, 15.131369796), (0.957941455, 13.932731083))
            ThreePointArc((0.957941455, 13.932731083), (0.483342889, 13.806271038), (0.015715707, 13.656068641))
            ThreePointArc((0.015715707, 13.656068641), (-0.62186157, 14.671147187), (-1.50974134, 15.476478643))
            ThreePointArc((-1.50974134, 15.476478643), (-1.75502657, 15.367757983), (-1.997819828, 15.253580666))
            ThreePointArc((-1.997819828, 15.253580666), (-1.970628521, 14.05518596), (-1.621007666, 12.908602122))
            ThreePointArc((-1.621007666, 12.908602122), (-2.040753744, 12.65355473), (-2.447121834, 12.377690783))
            ThreePointArc((-2.447121834, 12.377690783), (-3.344853426, 13.17202524), (-4.423655917, 13.694590475))
            ThreePointArc((-4.423655917, 13.694590475), (-4.628375221, 13.521168931), (-4.829166179, 13.343213832))
            ThreePointArc((-4.829166179, 13.343213832), (-4.465449507, 12.201023208), (-3.806960756, 11.19938365))
            ThreePointArc((-3.806960756, 11.19938365), (-4.137849015, 10.836411334), (-4.450036487, 10.457234694))
            ThreePointArc((-4.450036487, 10.457234694), (-5.535193519, 10.966472807), (-6.717520569, 11.163936694))
            ThreePointArc((-6.717520569, 11.163936694), (-6.865088808, 10.939863848), (-7.007610576, 10.712547831))
            ThreePointArc((-7.007610576, 10.712547831), (-6.3368347, 9.719094781), (-5.422824897, 8.943546382))
            ThreePointArc((-5.422824897, 8.943546382), (-5.638048737, 8.502055), (-5.830764019, 8.050284304))
            ThreePointArc((-5.830764019, 8.050284304), (-7.015433522, 8.23317063), (-8.205500024, 8.08953582))
            ThreePointArc((-8.205500024, 8.08953582), (-8.283962098, 7.832964721), (-8.35666841, 7.574703578))
            ThreePointArc((-8.35666841, 7.574703578), (-7.433175602, 6.810471759), (-6.337692385, 6.323844839))
            ThreePointArc((-6.337692385, 6.323844839), (-6.419815651, 5.839601397), (-6.477446097, 5.351836419))
            ThreePointArc((-6.477446097, 5.351836419), (-7.665653193, 5.193554596), (-8.767047038, 4.720457526))
            ThreePointArc((-8.767047038, 4.720457526), (-8.770046414, 4.452174038), (-8.767047038, 4.183890551))
        make_face()
        with Locations((3.229953586, 4.452174038)):
            Circle(SKETCH5_R, mode=Mode.SUBTRACT)
    extrude(amount=-BOSS_EXTRUDE1_DEPTH)

    # Sketch11 → Cut-Extrude1 (cut)
    with BuildSketch(Plane(origin=(4.038890567, 0, 0), x_dir=(0, 0, -1), z_dir=(1, 0, 0))):
        with BuildLine():
            Line((-8.548250394, 0.266016969), (-5.575646279, 0.266016969))
            ThreePointArc((-5.575646279, 0.266016969), (3.229953586, -5.297825962), (12.035553451, 0.266016969))
            Line((12.035553451, 0.266016969), (15.008157566, 0.266016969))
            ThreePointArc((15.008157566, 0.266016969), (3.229953586, -8.047825962), (-8.548250394, 0.266016969))
        make_face()
    extrude(amount=-CUT_EXTRUDE1_DEPTH, mode=Mode.SUBTRACT)

    # Sketch14 → Cut-Extrude3 (cut)
    with BuildSketch(Plane.ZY.offset(5.961109433)):
        with Locations((-3.229953586, 4.452174038)):
            Circle(SKETCH14_R)
    extrude(amount=-CUT_EXTRUDE3_DEPTH, mode=Mode.SUBTRACT)


with BuildPart() as body_2:
    # Sketch10 → Revolve2 (revolve)
    with BuildSketch(Plane.XY.offset(-3.229953586), mode=Mode.PRIVATE) as revolve2_sk:
        with Locations((-8.211109433, 11.052174038)):
            Rectangle(SKETCH10_W, SKETCH10_H)
    revolve(revolve2_sk.sketch.rotate(Axis((-10.461109433, 4.452174038, -3.229953586), (1, 0, 0)), 270), axis=Axis((-10.461109433, 4.452174038, -3.229953586), (1, 0, 0)))

    # Sketch13 → Cut-Extrude2 (cut)
    with BuildSketch(Plane.ZY.offset(10.461109433)):
        with Locations((-3.229953586, 4.452174038)):
            Circle(SKETCH13_R)
    extrude(amount=-CUT_EXTRUDE2_DEPTH, mode=Mode.SUBTRACT)


solid = Compound([part.part, body_2.part])
